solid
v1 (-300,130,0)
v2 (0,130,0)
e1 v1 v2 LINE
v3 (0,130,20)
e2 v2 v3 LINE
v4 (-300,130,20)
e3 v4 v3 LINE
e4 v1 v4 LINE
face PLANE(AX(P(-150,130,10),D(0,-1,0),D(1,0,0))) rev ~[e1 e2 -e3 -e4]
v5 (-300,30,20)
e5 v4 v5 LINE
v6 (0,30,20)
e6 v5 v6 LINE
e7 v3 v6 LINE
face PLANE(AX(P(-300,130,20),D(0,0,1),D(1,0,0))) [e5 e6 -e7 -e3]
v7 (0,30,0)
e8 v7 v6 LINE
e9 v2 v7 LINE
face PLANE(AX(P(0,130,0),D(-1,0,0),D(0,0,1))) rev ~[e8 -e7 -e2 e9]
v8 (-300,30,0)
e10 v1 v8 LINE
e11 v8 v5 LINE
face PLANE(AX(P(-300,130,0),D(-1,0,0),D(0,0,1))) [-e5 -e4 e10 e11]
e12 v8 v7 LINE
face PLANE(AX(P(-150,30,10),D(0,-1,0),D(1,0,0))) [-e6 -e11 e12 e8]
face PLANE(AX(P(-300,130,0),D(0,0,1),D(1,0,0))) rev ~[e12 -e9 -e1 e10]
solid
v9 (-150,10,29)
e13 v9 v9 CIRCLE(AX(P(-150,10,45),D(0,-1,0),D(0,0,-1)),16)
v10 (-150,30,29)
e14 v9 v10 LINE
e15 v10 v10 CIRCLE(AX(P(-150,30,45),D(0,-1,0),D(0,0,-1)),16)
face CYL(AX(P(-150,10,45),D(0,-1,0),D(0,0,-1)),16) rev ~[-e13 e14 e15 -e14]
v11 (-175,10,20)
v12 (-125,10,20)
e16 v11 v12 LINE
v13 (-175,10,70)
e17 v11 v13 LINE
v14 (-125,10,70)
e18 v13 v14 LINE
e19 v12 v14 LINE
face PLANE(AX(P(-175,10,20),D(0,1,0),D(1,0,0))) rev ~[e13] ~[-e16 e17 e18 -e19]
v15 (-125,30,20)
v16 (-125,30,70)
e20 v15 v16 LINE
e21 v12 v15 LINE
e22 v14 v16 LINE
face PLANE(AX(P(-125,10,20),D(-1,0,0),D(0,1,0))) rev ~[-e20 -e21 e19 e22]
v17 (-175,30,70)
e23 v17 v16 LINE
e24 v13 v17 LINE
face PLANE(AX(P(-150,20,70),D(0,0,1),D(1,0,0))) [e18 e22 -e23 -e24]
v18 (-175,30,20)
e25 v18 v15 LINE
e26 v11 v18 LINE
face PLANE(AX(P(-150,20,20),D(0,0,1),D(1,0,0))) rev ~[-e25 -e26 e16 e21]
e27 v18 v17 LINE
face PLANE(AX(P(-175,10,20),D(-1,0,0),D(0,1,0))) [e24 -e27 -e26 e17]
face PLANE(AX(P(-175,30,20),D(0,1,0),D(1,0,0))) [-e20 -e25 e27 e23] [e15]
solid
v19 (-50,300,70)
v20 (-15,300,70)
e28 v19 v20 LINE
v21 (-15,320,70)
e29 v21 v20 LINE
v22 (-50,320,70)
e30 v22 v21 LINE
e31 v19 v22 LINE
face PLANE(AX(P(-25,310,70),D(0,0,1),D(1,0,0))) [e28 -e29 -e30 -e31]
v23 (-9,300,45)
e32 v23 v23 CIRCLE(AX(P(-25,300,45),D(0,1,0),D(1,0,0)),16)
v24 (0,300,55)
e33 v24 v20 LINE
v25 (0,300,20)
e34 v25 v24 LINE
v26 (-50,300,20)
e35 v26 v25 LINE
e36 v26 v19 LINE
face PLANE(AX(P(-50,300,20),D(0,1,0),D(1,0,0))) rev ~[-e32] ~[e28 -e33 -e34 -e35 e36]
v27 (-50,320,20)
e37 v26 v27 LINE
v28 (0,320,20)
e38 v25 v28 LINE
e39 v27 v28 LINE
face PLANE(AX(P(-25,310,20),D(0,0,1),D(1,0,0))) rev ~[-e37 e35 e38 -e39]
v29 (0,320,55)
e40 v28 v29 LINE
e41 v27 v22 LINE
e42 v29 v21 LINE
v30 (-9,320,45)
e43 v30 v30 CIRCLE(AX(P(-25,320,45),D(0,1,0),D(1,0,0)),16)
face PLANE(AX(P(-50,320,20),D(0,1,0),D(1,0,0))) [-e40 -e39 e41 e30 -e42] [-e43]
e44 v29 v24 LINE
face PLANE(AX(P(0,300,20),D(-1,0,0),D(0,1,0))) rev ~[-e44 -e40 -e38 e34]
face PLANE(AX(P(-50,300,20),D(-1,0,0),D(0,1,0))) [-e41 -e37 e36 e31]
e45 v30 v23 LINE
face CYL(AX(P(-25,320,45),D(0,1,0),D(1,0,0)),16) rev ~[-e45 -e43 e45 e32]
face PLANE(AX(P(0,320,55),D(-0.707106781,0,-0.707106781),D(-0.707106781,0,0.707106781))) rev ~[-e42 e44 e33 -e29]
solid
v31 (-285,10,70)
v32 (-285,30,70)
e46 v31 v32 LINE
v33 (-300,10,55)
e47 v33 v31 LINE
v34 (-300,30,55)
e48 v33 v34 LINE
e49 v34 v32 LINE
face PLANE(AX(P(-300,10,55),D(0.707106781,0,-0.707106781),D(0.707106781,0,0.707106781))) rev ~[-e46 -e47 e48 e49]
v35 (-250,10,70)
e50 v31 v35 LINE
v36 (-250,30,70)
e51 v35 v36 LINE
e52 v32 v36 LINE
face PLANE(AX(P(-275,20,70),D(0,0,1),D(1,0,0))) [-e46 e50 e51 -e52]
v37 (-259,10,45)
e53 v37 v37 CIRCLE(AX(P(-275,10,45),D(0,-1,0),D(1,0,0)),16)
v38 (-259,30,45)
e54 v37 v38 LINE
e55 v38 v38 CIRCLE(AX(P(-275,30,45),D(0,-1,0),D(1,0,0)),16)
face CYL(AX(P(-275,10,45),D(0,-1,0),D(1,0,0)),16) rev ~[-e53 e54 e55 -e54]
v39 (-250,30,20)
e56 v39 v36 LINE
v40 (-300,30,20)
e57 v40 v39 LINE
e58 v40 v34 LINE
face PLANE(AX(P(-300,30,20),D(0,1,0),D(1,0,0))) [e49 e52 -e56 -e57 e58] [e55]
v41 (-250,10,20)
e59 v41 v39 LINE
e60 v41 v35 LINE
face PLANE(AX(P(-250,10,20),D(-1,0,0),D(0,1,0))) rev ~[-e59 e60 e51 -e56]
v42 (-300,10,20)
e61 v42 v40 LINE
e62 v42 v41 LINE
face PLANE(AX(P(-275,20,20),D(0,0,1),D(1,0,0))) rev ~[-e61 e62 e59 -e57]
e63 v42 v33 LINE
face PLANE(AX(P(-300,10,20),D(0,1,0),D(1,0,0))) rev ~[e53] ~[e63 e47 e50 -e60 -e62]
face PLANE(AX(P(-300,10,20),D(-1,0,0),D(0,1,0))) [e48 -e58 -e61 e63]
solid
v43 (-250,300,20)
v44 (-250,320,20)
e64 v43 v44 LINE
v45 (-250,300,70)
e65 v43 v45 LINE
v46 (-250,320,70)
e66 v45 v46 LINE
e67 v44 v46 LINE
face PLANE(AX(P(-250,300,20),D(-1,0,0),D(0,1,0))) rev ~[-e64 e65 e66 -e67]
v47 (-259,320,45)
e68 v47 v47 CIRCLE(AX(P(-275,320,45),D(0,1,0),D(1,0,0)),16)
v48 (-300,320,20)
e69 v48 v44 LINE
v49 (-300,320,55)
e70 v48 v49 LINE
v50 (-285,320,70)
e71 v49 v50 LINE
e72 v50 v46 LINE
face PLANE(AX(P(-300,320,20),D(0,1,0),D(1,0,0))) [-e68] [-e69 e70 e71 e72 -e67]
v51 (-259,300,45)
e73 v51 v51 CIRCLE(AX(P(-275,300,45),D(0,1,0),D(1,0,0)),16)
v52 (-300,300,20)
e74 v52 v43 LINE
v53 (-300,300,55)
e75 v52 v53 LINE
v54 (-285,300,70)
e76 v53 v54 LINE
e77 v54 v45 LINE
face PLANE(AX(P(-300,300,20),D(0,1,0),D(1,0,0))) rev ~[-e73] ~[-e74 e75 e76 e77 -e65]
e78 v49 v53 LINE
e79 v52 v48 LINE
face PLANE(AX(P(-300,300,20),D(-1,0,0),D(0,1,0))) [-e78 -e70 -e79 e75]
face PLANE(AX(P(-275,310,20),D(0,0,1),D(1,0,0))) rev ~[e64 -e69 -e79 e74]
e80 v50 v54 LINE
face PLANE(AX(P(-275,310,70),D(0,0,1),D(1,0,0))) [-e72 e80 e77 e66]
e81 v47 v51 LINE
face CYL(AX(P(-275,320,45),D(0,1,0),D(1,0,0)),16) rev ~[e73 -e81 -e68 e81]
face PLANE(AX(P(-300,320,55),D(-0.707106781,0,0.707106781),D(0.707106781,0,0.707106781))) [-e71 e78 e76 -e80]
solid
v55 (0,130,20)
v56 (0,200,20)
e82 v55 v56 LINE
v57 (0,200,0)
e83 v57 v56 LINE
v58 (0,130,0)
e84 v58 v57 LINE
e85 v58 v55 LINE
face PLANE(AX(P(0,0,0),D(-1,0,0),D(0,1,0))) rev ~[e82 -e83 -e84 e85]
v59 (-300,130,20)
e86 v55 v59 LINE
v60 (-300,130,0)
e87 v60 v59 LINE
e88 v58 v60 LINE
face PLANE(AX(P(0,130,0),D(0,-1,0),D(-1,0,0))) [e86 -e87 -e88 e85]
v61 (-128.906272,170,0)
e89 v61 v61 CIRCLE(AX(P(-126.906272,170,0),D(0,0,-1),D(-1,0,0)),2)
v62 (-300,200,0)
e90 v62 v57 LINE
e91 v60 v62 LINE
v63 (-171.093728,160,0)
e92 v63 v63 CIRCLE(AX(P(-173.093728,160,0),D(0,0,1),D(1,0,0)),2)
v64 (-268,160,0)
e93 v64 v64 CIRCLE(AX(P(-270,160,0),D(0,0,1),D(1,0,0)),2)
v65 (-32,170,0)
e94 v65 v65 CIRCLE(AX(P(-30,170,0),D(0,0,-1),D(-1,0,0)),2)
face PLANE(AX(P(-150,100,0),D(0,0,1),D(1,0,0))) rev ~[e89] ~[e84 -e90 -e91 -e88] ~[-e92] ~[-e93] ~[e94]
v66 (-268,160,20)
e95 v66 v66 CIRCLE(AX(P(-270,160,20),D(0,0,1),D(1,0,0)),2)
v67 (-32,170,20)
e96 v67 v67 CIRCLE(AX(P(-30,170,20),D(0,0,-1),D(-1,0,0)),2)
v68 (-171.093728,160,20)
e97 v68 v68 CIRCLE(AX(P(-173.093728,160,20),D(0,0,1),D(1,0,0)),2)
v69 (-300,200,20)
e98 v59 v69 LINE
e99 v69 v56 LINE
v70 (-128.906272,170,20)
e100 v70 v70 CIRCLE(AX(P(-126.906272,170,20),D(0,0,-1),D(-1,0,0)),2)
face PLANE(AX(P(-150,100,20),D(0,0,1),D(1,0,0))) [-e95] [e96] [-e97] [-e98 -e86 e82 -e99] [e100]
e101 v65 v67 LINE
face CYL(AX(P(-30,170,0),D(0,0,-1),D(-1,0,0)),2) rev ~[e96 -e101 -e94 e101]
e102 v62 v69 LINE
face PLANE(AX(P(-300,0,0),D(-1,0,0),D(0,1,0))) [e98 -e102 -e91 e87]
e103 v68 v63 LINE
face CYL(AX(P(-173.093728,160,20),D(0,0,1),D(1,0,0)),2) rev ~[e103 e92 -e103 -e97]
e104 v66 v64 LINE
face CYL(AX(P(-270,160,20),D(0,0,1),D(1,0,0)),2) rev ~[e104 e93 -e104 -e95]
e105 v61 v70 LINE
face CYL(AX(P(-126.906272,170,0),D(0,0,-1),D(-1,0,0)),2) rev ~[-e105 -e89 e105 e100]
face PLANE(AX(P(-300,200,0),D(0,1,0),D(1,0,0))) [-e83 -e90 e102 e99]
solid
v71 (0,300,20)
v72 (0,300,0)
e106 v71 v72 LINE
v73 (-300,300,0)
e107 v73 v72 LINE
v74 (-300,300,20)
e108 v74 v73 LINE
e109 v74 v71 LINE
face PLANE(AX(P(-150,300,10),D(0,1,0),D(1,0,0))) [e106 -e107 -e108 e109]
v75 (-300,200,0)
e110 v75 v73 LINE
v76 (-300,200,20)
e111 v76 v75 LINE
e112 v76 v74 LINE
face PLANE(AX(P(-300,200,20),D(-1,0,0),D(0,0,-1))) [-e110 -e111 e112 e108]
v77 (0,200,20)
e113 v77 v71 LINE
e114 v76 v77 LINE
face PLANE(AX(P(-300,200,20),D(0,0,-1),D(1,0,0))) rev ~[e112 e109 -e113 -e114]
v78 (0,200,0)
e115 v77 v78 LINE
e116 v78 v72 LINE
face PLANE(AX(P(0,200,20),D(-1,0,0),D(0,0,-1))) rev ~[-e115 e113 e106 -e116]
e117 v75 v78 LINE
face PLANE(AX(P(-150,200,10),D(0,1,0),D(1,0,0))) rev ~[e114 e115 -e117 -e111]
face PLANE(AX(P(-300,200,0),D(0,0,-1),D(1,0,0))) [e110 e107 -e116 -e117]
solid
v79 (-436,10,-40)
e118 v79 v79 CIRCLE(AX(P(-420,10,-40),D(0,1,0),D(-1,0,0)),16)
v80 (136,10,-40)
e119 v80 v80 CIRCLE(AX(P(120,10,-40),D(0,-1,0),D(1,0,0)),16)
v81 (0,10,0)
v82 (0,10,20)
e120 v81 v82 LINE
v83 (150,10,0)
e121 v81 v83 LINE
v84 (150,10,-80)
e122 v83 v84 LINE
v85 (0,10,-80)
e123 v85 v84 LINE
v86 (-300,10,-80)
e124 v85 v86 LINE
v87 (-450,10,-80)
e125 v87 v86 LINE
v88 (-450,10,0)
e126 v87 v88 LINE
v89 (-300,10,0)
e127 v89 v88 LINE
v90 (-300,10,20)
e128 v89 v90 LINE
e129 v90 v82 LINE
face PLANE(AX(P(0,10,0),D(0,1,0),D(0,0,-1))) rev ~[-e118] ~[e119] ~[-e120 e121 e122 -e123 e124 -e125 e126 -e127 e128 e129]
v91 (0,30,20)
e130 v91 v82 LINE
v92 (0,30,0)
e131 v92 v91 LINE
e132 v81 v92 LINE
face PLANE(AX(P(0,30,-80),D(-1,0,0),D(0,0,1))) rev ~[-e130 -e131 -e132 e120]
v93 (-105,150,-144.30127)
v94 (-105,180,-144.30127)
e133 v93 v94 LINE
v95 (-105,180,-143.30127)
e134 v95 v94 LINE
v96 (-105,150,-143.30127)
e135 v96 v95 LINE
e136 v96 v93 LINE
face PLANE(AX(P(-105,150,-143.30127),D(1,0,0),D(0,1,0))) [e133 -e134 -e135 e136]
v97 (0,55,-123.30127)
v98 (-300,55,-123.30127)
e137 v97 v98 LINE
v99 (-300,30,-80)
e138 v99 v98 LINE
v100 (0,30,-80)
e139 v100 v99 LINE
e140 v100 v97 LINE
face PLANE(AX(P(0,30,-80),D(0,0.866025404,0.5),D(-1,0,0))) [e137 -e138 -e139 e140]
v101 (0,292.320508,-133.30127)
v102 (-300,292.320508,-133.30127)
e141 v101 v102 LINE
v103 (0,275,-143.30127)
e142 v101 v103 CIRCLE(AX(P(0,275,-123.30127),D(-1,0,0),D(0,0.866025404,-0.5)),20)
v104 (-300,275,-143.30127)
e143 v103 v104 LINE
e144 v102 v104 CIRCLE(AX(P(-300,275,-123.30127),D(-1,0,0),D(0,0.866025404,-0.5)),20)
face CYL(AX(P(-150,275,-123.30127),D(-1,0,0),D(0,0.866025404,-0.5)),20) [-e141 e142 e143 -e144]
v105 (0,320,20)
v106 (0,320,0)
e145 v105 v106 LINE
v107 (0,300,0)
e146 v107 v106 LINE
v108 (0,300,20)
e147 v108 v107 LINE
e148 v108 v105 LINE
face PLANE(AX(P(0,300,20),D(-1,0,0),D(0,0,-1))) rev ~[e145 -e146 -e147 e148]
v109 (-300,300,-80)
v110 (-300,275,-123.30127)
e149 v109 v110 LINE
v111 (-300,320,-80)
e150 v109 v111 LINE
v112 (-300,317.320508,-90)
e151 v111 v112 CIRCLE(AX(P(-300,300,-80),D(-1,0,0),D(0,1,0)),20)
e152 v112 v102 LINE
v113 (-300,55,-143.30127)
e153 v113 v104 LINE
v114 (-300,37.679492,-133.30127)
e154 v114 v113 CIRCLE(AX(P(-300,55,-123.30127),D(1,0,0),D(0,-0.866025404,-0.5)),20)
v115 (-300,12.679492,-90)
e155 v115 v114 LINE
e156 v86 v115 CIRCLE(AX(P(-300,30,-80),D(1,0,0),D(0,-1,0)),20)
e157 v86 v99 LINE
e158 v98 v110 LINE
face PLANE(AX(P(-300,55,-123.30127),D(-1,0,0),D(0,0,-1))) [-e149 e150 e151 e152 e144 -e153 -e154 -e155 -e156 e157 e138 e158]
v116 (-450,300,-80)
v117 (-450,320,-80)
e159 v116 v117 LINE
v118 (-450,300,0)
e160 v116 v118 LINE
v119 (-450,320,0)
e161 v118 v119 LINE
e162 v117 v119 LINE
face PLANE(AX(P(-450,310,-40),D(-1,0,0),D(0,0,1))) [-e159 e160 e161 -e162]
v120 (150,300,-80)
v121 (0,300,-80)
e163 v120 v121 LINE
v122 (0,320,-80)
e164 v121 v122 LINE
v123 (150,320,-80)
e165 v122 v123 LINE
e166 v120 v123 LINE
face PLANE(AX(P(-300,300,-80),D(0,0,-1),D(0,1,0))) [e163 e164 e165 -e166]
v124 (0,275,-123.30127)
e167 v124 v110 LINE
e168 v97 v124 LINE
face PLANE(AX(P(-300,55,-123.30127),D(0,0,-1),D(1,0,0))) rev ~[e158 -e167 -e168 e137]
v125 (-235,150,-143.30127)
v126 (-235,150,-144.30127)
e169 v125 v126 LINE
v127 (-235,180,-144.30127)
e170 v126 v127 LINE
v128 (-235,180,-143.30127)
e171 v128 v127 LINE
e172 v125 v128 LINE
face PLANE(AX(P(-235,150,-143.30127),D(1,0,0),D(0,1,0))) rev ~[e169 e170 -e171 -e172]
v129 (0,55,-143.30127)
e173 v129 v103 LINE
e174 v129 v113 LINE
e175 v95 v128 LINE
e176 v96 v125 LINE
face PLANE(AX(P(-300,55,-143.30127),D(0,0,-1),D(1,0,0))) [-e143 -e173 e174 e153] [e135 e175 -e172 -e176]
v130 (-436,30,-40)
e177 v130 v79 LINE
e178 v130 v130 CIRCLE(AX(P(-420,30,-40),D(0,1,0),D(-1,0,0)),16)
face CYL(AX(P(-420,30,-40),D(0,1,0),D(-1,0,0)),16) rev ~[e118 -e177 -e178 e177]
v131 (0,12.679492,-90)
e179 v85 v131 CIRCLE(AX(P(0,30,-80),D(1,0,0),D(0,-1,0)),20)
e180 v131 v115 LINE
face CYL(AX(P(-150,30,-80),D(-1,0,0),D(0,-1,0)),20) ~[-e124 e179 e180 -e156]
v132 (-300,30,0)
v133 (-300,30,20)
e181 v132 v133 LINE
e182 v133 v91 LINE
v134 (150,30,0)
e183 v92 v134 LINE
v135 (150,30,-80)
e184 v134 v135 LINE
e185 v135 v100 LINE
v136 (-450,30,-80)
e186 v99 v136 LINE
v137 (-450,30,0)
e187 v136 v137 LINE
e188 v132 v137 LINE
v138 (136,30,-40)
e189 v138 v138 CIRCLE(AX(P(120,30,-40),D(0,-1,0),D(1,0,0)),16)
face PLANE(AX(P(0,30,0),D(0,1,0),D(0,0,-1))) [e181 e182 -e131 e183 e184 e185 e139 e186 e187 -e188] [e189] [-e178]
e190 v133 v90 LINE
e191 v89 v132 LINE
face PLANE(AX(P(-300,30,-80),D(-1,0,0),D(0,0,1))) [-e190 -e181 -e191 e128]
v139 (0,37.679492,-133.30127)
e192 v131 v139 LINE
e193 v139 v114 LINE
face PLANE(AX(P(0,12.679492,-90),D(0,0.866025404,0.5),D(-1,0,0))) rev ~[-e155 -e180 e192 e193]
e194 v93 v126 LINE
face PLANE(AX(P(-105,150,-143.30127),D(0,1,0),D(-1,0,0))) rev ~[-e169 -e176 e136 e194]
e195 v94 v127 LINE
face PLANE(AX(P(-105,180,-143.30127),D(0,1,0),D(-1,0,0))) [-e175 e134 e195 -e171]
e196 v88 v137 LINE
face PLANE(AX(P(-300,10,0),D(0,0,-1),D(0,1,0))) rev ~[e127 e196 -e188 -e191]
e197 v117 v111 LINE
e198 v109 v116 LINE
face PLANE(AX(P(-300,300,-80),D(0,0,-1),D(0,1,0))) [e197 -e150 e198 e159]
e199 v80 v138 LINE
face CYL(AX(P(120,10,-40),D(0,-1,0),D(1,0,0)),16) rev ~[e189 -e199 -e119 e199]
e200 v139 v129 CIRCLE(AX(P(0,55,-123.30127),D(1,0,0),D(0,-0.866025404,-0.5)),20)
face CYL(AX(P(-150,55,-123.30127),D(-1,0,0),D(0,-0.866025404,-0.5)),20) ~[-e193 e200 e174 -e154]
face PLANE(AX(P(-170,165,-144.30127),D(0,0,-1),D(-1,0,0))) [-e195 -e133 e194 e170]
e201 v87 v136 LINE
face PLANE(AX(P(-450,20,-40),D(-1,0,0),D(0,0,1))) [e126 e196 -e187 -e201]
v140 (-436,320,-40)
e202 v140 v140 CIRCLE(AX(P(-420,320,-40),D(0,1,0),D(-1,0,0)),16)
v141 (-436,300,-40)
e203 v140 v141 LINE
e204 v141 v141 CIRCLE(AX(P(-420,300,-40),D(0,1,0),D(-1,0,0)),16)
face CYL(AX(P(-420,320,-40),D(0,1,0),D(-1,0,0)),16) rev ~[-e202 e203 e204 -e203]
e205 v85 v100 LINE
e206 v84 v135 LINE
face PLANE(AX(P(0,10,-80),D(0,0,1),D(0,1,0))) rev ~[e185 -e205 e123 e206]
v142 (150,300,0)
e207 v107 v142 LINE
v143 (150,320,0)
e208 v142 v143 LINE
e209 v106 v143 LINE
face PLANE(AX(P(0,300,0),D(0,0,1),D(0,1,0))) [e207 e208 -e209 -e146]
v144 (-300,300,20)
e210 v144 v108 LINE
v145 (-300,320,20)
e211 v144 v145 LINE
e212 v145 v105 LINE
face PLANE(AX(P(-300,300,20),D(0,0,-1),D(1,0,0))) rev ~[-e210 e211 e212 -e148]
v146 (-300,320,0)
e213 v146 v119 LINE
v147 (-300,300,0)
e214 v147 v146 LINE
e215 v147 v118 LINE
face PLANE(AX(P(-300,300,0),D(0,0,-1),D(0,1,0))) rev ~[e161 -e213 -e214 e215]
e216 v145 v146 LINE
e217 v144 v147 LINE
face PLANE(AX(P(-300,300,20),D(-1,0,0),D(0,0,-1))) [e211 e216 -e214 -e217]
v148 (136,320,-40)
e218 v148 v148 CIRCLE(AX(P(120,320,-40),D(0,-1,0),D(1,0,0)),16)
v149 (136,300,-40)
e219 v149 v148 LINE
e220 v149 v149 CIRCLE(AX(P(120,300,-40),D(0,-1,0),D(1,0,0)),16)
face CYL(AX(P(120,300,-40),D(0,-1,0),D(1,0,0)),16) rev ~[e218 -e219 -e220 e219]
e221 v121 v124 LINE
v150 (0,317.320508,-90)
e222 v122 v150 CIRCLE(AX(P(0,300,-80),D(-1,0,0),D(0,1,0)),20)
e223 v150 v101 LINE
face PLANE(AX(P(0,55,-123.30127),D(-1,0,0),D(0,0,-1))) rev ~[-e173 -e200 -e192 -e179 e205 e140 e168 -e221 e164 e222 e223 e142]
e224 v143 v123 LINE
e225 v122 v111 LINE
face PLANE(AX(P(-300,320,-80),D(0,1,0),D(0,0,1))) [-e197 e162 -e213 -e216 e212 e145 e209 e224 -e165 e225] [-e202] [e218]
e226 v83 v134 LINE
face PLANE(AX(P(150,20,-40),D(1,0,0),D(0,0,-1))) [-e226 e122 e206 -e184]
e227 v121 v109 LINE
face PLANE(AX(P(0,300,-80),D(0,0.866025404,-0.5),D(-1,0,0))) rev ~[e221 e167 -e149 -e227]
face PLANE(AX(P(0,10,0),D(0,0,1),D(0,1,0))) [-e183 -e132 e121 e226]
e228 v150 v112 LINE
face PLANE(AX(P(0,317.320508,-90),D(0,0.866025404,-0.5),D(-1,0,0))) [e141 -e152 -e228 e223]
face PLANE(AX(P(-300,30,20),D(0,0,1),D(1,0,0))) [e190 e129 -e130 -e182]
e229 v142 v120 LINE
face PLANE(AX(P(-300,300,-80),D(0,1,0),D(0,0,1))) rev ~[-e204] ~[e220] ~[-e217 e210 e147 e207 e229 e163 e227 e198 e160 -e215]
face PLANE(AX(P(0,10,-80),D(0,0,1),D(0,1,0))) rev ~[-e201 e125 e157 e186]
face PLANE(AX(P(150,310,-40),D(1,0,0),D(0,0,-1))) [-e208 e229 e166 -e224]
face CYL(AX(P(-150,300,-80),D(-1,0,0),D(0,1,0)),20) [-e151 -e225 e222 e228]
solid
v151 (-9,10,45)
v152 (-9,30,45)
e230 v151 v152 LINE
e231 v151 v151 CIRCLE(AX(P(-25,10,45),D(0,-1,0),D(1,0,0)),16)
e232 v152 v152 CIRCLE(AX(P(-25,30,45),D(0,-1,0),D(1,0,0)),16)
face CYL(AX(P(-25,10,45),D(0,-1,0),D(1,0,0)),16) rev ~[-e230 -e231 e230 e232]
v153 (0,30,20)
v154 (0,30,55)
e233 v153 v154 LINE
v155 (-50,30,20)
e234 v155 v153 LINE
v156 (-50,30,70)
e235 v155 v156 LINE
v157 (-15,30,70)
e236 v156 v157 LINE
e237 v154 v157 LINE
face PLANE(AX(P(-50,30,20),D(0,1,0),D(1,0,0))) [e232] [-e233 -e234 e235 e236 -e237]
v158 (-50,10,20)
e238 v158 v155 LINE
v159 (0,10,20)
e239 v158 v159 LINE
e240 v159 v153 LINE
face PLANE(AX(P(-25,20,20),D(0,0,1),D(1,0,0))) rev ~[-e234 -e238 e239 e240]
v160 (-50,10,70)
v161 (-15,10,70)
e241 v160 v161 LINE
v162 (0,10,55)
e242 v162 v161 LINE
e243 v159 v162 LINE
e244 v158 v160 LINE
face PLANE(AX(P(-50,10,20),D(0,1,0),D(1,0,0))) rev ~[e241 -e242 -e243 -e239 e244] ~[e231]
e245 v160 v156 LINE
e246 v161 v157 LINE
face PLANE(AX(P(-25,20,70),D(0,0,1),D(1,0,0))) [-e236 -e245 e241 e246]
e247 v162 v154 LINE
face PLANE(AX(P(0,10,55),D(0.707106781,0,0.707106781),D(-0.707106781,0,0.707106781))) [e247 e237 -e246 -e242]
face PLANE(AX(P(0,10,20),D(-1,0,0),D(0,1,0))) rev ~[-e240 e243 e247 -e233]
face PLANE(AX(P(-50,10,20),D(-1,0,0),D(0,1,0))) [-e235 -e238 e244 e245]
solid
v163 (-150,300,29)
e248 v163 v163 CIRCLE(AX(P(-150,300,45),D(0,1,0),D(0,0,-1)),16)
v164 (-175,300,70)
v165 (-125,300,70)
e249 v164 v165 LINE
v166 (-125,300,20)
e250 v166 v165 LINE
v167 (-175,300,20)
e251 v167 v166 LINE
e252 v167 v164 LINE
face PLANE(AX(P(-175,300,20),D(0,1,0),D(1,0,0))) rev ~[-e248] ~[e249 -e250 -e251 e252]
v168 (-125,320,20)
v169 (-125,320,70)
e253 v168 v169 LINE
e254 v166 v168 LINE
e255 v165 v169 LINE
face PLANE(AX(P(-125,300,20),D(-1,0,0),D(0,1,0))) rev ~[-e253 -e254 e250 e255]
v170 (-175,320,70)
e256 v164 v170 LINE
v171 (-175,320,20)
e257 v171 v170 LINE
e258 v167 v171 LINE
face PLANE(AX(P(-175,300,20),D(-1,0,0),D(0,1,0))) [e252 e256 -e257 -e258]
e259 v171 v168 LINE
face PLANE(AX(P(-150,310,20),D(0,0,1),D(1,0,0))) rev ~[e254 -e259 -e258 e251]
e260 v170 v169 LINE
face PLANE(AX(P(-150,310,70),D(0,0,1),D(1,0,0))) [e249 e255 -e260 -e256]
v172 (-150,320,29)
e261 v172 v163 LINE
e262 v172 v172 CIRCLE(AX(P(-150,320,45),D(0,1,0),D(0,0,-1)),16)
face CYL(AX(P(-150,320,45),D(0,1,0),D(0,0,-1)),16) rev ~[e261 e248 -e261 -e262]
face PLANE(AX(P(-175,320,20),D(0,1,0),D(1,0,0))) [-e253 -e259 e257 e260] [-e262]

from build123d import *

# Parameters (mm, degrees)
SKETCH1_W              = 300
SKETCH1_H              = 200
BOSS_EXTRUDE1_DEPTH    = 20
SKETCH2_R              = 2
CUT_EXTRUDE1_DEPTH     = 20
SKETCH3_W              = 300
SKETCH3_H              = 130
CUT_EXTRUDE2_DEPTH     = 20
SKETCH4_R              = 2
CUT_EXTRUDE3_DEPTH     = 20
SKETCH5_W              = 300
SKETCH5_H              = 20
BOSS_EXTRUDE2_DEPTH    = 100
SKETCH6_W              = 300
SKETCH6_H              = 20
BOSS_EXTRUDE3_DEPTH    = 100
SKETCH9_W              = 300
SKETCH9_H              = 100
BOSS_EXTRUDE6_DEPTH    = 20
SKETCH10_W             = 300
SKETCH10_H             = 100
BOSS_EXTRUDE7_DEPTH    = 20
SKETCH14_W             = 80
SKETCH14_H             = 20
BOSS_EXTRUDE11_DEPTH   = 150
SKETCH15_W             = 80
SKETCH15_H             = 20
BOSS_EXTRUDE12_DEPTH   = 150
SKETCH16_W             = 80
SKETCH16_H             = 20
BOSS_EXTRUDE13_DEPTH   = 150
SKETCH17_W             = 80
SKETCH17_H             = 20
BOSS_EXTRUDE14_DEPTH   = 150
SKETCH18_R             = 16
CUT_EXTRUDE4_DEPTH     = 20
SKETCH19_R             = 16
CUT_EXTRUDE5_DEPTH     = 20
SKETCH20_R             = 16
CUT_EXTRUDE6_DEPTH     = 20
SKETCH21_R             = 16
CUT_EXTRUDE7_DEPTH     = 20
SKETCH22_W             = 50
SKETCH22_H             = 20
BOSS_EXTRUDE15_DEPTH   = 50
BOSS_EXTRUDE15_2_DEPTH = 50
BOSS_EXTRUDE15_3_DEPTH = 50
SKETCH23_W             = 50
SKETCH23_H             = 20
BOSS_EXTRUDE16_DEPTH   = 50
BOSS_EXTRUDE16_2_DEPTH = 50
BOSS_EXTRUDE16_3_DEPTH = 50
SKETCH24_R             = 16
CUT_EXTRUDE8_DEPTH     = 20
SKETCH25_R             = 16
CUT_EXTRUDE9_DEPTH     = 20
SKETCH26_R             = 16
CUT_EXTRUDE10_DEPTH    = 20
SKETCH27_R             = 16
CUT_EXTRUDE11_DEPTH    = 20
SKETCH28_R             = 16
CUT_EXTRUDE12_DEPTH    = 20
SKETCH29_R             = 16
CUT_EXTRUDE13_DEPTH    = 20
SKETCH30_W             = 300
SKETCH30_H             = 20
REVOLVE1_ANGLE         = 30
SKETCH31_W             = 300
SKETCH31_H             = 20
REVOLVE2_ANGLE         = 30
SKETCH33_W             = 300
SKETCH33_H             = 20
BOSS_EXTRUDE18_DEPTH   = 50
SKETCH34_W             = 300
SKETCH34_H             = 20
BOSS_EXTRUDE19_DEPTH   = 50
SKETCH35_W             = 300
SKETCH35_H             = 20
REVOLVE3_ANGLE         = 60
SKETCH36_W             = 300
SKETCH36_H             = 20
REVOLVE4_ANGLE         = 60
SKETCH37_W             = 300
SKETCH37_H             = 20
BOSS_EXTRUDE20_DEPTH   = 220
SKETCH38_W             = 130
SKETCH38_H             = 30
BOSS_EXTRUDE21_DEPTH   = 1


with BuildPart() as part:
    # Sketch1 → Boss-Extrude1 (new body)
    with BuildSketch(Plane.XY):
        with Locations((-150, 100)):
            Rectangle(SKETCH1_W, SKETCH1_H)
    extrude(amount=BOSS_EXTRUDE1_DEPTH)

    # Sketch2 → Cut-Extrude1 (cut)
    with BuildSketch(Plane.XY.offset(20)):
        with Locations((-270, 160)):
            Circle(SKETCH2_R)
        with Locations((-173.0937277, 160)):
            Circle(SKETCH2_R)
    extrude(amount=-CUT_EXTRUDE1_DEPTH, mode=Mode.SUBTRACT)

    # Sketch3 → Cut-Extrude2 (cut)
    with BuildSketch(Plane(origin=(0, 0, 0), x_dir=(-1, 0, 0), z_dir=(0, 0, -1))):
        with Locations((150, 65)):
            Rectangle(SKETCH3_W, SKETCH3_H)
    extrude(amount=-CUT_EXTRUDE2_DEPTH, mode=Mode.SUBTRACT)

    # Sketch4 → Cut-Extrude3 (cut)
    with BuildSketch(Plane(origin=(0, 0, 0), x_dir=(-1, 0, 0), z_dir=(0, 0, -1))):
        with Locations((30, 170)):
            Circle(SKETCH4_R)
        with Locations((126.9062723, 170)):
            Circle(SKETCH4_R)
    extrude(amount=-CUT_EXTRUDE3_DEPTH, mode=Mode.SUBTRACT)


with BuildPart() as body_2:
    # Sketch5 → Boss-Extrude2 (new body)
    with BuildSketch(Plane(origin=(0, 200, 0), x_dir=(1, 0, 0), z_dir=(0, 1, 0))):
        with Locations((-150, -10)):
            Rectangle(SKETCH5_W, SKETCH5_H)
    extrude(amount=BOSS_EXTRUDE2_DEPTH)


with BuildPart() as body_3:
    # Sketch6 → Boss-Extrude3 (new body)
    with BuildSketch(Plane.XZ.offset(-130)):
        with Locations((-150, 10)):
            Rectangle(SKETCH6_W, SKETCH6_H)
    extrude(amount=BOSS_EXTRUDE3_DEPTH)


with BuildPart() as body_4:
    # Sketch9 → Boss-Extrude6 (new body)
    with BuildSketch(Plane.XZ.offset(-30)):
        with Locations((-150, -30)):
            Rectangle(SKETCH9_W, SKETCH9_H)
    extrude(amount=BOSS_EXTRUDE6_DEPTH)



with BuildPart() as body_5:
    # Sketch10 → Boss-Extrude7 (new body)
    with BuildSketch(Plane(origin=(0, 300, 0), x_dir=(1, 0, 0), z_dir=(0, 1, 0))):
        with Locations((-150, 30)):
            Rectangle(SKETCH10_W, SKETCH10_H)
    extrude(amount=BOSS_EXTRUDE7_DEPTH)



with BuildPart() as body_6:
    # Sketch14 → Boss-Extrude11 (new body)
    with BuildSketch(Plane(origin=(0, 0, 0), x_dir=(0, 0, -1), z_dir=(1, 0, 0))):
        with Locations((40, 310)):
            Rectangle(SKETCH14_W, SKETCH14_H)
    extrude(amount=BOSS_EXTRUDE11_DEPTH)

    # Sketch19 → Cut-Extrude5 (cut)
    with BuildSketch(Plane.XZ.offset(-300)):
        with Locations((120, -40)):
            Circle(SKETCH19_R)
    extrude(amount=-CUT_EXTRUDE5_DEPTH, mode=Mode.SUBTRACT)


with BuildPart() as body_7:
    # Sketch15 → Boss-Extrude12 (new body)
    with BuildSketch(Plane.ZY.offset(300)):
        with Locations((-40, 310)):
            Rectangle(SKETCH15_W, SKETCH15_H)
    extrude(amount=BOSS_EXTRUDE12_DEPTH)

    # Sketch20 → Cut-Extrude6 (cut)
    with BuildSketch(Plane(origin=(0, 320, 0), x_dir=(1, 0, 0), z_dir=(0, 1, 0))):
        with Locations(Location((-420, 40, 0), (0, 0, 180))):
            Circle(SKETCH20_R)
    extrude(amount=-CUT_EXTRUDE6_DEPTH, mode=Mode.SUBTRACT)


with BuildPart() as body_8:
    # Sketch16 → Boss-Extrude13 (new body)
    with BuildSketch(Plane.ZY.offset(300)):
        with Locations((-40, 20)):
            Rectangle(SKETCH16_W, SKETCH16_H)
    extrude(amount=BOSS_EXTRUDE13_DEPTH)

    # Sketch21 → Cut-Extrude7 (cut)
    with BuildSketch(Plane(origin=(0, 30, 0), x_dir=(1, 0, 0), z_dir=(0, 1, 0))):
        with Locations(Location((-420, 40, 0), (0, 0, 180))):
            Circle(SKETCH21_R)
    extrude(amount=-CUT_EXTRUDE7_DEPTH, mode=Mode.SUBTRACT)


with BuildPart() as body_9:
    # Sketch17 → Boss-Extrude14 (new body)
    with BuildSketch(Plane(origin=(0, 0, 0), x_dir=(0, 0, -1), z_dir=(1, 0, 0))):
        with Locations((40, 20)):
            Rectangle(SKETCH17_W, SKETCH17_H)
    extrude(amount=BOSS_EXTRUDE14_DEPTH)

    # Sketch18 → Cut-Extrude4 (cut)
    with BuildSketch(Plane.XZ.offset(-10)):
        with Locations((120, -40)):
            Circle(SKETCH18_R)
    extrude(amount=-CUT_EXTRUDE4_DEPTH, mode=Mode.SUBTRACT)


with BuildPart() as body_10:
    # Sketch22 → Boss-Extrude15 (new body)
    with BuildSketch(Plane.XY.offset(20)):
        with Locations((-275, 310)):
            Rectangle(SKETCH22_W, SKETCH22_H)
    extrude(amount=BOSS_EXTRUDE15_DEPTH)

    # Sketch27 → Cut-Extrude11 (cut)
    with BuildSketch(Plane(origin=(0, 320, 0), x_dir=(1, 0, 0), z_dir=(0, 1, 0))):
        with Locations((-275, -45)):
            Circle(SKETCH27_R)
        Polygon((-300, -55), (-285, -70), (-300, -70), align=None)
    extrude(amount=-CUT_EXTRUDE11_DEPTH, mode=Mode.SUBTRACT)


with BuildPart() as body_11:
    # Sketch22 → Boss-Extrude15 2 (new body)
    with BuildSketch(Plane.XY.offset(20)):
        with Locations((-150, 310)):
            Rectangle(SKETCH22_W, SKETCH22_H)
    extrude(amount=BOSS_EXTRUDE15_2_DEPTH)

    # Sketch28 → Cut-Extrude12 (cut)
    with BuildSketch(Plane(origin=(0, 320, 0), x_dir=(1, 0, 0), z_dir=(0, 1, 0))):
        with Locations(Location((-150, -45, 0), (0, 0, 90))):
            Circle(SKETCH28_R)
    extrude(amount=-CUT_EXTRUDE12_DEPTH, mode=Mode.SUBTRACT)


with BuildPart() as body_12:
    # Sketch22 → Boss-Extrude15 3 (new body)
    with BuildSketch(Plane.XY.offset(20)):
        with Locations((-25, 310)):
            Rectangle(SKETCH22_W, SKETCH22_H)
    extrude(amount=BOSS_EXTRUDE15_3_DEPTH)

    # Sketch29 → Cut-Extrude13 (cut)
    with BuildSketch(Plane(origin=(0, 320, 0), x_dir=(1, 0, 0), z_dir=(0, 1, 0))):
        with Locations((-25, -45)):
            Circle(SKETCH29_R)
        Polygon((0, -55), (-15, -70), (0, -70), align=None)
    extrude(amount=-CUT_EXTRUDE13_DEPTH, mode=Mode.SUBTRACT)


with BuildPart() as body_13:
    # Sketch23 → Boss-Extrude16 (new body)
    with BuildSketch(Plane.XY.offset(20)):
        with Locations((-275, 20)):
            Rectangle(SKETCH23_W, SKETCH23_H)
    extrude(amount=BOSS_EXTRUDE16_DEPTH)

    # Sketch26 → Cut-Extrude10 (cut)
    with BuildSketch(Plane.XZ.offset(-10)):
        with Locations((-275, 45)):
            Circle(SKETCH26_R)
        Polygon((-300, 55), (-285, 70), (-300, 70), align=None)
    extrude(amount=-CUT_EXTRUDE10_DEPTH, mode=Mode.SUBTRACT)


with BuildPart() as body_14:
    # Sketch23 → Boss-Extrude16 2 (new body)
    with BuildSketch(Plane.XY.offset(20)):
        with Locations((-150, 20)):
            Rectangle(SKETCH23_W, SKETCH23_H)
    extrude(amount=BOSS_EXTRUDE16_2_DEPTH)

    # Sketch25 → Cut-Extrude9 (cut)
    with BuildSketch(Plane.XZ.offset(-10)):
        with Locations(Location((-150, 45, 0), (0, 0, 270))):
            Circle(SKETCH25_R)
    extrude(amount=-CUT_EXTRUDE9_DEPTH, mode=Mode.SUBTRACT)


with BuildPart() as body_15:
    # Sketch23 → Boss-Extrude16 3 (new body)
    with BuildSketch(Plane.XY.offset(20)):
        with Locations((-25, 20)):
            Rectangle(SKETCH23_W, SKETCH23_H)
    extrude(amount=BOSS_EXTRUDE16_3_DEPTH)

    # Sketch24 → Cut-Extrude8 (cut)
    with BuildSketch(Plane.XZ.offset(-10)):
        with Locations((-25, 45)):
            Circle(SKETCH24_R)
        Polygon((0, 55), (-15, 70), (0, 70), align=None)
    extrude(amount=-CUT_EXTRUDE8_DEPTH, mode=Mode.SUBTRACT)


with BuildPart() as body_4_1:
    add(body_4.part)

    add(body_8.part)  # Revolve1 merges body 8

    add(body_9.part)  # Revolve1 merges body 9
    # Sketch30 → Revolve1 (revolve)
    with BuildSketch(Plane(origin=(0, 0, -80), x_dir=(-1, 0, 0), z_dir=(0, 0, -1))):
        with Locations((150, 20)):
            Rectangle(SKETCH30_W, SKETCH30_H)
    revolve(axis=Axis((0, 30, -80), (1, 0, 0)), revolution_arc=REVOLVE1_ANGLE)

    # Sketch33 → Boss-Extrude18 (add)
    with BuildSketch(Plane(origin=(0, 42.141016151, -72.990381057), x_dir=(-1, 0, 0), z_dir=(0, 0.500000000000001, -0.8660254037844382))):
        with Locations((150, -24.019237886)):
            Rectangle(SKETCH33_W, SKETCH33_H)
    extrude(amount=BOSS_EXTRUDE18_DEPTH)

    # Sketch35 → Revolve3 (revolve)
    with BuildSketch(Plane(origin=(0, 67.141016151, -116.291651246), x_dir=(-1, 0, 0), z_dir=(0, 0.5000000000000007, -0.8660254037844382))):
        with Locations((150, -24.019237886)):
            Rectangle(SKETCH35_W, SKETCH35_H)
    revolve(axis=Axis((0, 55, -123.301270189), (1, 0, 0)), revolution_arc=REVOLVE3_ANGLE)



with BuildPart() as body_5_1:
    add(body_5.part)

    add(body_6.part)  # Revolve2 merges body 6

    add(body_7.part)  # Revolve2 merges body 7
    # Sketch31 → Revolve2 (revolve)
    with BuildSketch(Plane(origin=(0, 0, -80), x_dir=(-1, 0, 0), z_dir=(0, 0, -1))):
        with Locations((150, 310)):
            Rectangle(SKETCH31_W, SKETCH31_H)
    revolve(axis=Axis((0, 300, -80), (-1, 0, 0)), revolution_arc=REVOLVE2_ANGLE)

    # Sketch34 → Boss-Extrude19 (add)
    with BuildSketch(Plane(origin=(0, 40.358983849, 69.903810568), x_dir=(-1, 0, 0), z_dir=(0, -0.500000000000001, -0.8660254037844382))):
        with Locations((150, 309.807621135)):
            Rectangle(SKETCH34_W, SKETCH34_H)
    extrude(amount=BOSS_EXTRUDE19_DEPTH)

    # Sketch36 → Revolve4 (revolve)
    with BuildSketch(Plane(origin=(0, 15.358983849, 26.602540378), x_dir=(-1, 0, 0), z_dir=(0, -0.5000000000000009, -0.8660254037844383))):
        with Locations((150, 309.807621135)):
            Rectangle(SKETCH36_W, SKETCH36_H)
    revolve(axis=Axis((0, 275, -123.301270189), (-1, 0, 0)), revolution_arc=REVOLVE4_ANGLE)


with BuildPart() as body_4_2:
    add(body_4_1.part)

    add(body_5_1.part)  # Boss-Extrude20 merges body 5
    # Sketch37 → Boss-Extrude20 (add)
    with BuildSketch(Plane(origin=(0, 55, 0), x_dir=(1, 0, 0), z_dir=(0, 1, 0))):
        with Locations((-150, 133.301270189)):
            Rectangle(SKETCH37_W, SKETCH37_H)
    extrude(amount=BOSS_EXTRUDE20_DEPTH)

    # Sketch38 → Boss-Extrude21 (add)
    with BuildSketch(Plane(origin=(0, 0, -143.301270189), x_dir=(-1, 0, 0), z_dir=(0, 0, -1))):
        with Locations((170, 165)):
            Rectangle(SKETCH38_W, SKETCH38_H)
    extrude(amount=BOSS_EXTRUDE21_DEPTH)


solid = Compound([part.part, body_2.part, body_3.part, body_10.part, body_11.part, body_12.part, body_13.part, body_14.part, body_15.part, body_4_2.part])
